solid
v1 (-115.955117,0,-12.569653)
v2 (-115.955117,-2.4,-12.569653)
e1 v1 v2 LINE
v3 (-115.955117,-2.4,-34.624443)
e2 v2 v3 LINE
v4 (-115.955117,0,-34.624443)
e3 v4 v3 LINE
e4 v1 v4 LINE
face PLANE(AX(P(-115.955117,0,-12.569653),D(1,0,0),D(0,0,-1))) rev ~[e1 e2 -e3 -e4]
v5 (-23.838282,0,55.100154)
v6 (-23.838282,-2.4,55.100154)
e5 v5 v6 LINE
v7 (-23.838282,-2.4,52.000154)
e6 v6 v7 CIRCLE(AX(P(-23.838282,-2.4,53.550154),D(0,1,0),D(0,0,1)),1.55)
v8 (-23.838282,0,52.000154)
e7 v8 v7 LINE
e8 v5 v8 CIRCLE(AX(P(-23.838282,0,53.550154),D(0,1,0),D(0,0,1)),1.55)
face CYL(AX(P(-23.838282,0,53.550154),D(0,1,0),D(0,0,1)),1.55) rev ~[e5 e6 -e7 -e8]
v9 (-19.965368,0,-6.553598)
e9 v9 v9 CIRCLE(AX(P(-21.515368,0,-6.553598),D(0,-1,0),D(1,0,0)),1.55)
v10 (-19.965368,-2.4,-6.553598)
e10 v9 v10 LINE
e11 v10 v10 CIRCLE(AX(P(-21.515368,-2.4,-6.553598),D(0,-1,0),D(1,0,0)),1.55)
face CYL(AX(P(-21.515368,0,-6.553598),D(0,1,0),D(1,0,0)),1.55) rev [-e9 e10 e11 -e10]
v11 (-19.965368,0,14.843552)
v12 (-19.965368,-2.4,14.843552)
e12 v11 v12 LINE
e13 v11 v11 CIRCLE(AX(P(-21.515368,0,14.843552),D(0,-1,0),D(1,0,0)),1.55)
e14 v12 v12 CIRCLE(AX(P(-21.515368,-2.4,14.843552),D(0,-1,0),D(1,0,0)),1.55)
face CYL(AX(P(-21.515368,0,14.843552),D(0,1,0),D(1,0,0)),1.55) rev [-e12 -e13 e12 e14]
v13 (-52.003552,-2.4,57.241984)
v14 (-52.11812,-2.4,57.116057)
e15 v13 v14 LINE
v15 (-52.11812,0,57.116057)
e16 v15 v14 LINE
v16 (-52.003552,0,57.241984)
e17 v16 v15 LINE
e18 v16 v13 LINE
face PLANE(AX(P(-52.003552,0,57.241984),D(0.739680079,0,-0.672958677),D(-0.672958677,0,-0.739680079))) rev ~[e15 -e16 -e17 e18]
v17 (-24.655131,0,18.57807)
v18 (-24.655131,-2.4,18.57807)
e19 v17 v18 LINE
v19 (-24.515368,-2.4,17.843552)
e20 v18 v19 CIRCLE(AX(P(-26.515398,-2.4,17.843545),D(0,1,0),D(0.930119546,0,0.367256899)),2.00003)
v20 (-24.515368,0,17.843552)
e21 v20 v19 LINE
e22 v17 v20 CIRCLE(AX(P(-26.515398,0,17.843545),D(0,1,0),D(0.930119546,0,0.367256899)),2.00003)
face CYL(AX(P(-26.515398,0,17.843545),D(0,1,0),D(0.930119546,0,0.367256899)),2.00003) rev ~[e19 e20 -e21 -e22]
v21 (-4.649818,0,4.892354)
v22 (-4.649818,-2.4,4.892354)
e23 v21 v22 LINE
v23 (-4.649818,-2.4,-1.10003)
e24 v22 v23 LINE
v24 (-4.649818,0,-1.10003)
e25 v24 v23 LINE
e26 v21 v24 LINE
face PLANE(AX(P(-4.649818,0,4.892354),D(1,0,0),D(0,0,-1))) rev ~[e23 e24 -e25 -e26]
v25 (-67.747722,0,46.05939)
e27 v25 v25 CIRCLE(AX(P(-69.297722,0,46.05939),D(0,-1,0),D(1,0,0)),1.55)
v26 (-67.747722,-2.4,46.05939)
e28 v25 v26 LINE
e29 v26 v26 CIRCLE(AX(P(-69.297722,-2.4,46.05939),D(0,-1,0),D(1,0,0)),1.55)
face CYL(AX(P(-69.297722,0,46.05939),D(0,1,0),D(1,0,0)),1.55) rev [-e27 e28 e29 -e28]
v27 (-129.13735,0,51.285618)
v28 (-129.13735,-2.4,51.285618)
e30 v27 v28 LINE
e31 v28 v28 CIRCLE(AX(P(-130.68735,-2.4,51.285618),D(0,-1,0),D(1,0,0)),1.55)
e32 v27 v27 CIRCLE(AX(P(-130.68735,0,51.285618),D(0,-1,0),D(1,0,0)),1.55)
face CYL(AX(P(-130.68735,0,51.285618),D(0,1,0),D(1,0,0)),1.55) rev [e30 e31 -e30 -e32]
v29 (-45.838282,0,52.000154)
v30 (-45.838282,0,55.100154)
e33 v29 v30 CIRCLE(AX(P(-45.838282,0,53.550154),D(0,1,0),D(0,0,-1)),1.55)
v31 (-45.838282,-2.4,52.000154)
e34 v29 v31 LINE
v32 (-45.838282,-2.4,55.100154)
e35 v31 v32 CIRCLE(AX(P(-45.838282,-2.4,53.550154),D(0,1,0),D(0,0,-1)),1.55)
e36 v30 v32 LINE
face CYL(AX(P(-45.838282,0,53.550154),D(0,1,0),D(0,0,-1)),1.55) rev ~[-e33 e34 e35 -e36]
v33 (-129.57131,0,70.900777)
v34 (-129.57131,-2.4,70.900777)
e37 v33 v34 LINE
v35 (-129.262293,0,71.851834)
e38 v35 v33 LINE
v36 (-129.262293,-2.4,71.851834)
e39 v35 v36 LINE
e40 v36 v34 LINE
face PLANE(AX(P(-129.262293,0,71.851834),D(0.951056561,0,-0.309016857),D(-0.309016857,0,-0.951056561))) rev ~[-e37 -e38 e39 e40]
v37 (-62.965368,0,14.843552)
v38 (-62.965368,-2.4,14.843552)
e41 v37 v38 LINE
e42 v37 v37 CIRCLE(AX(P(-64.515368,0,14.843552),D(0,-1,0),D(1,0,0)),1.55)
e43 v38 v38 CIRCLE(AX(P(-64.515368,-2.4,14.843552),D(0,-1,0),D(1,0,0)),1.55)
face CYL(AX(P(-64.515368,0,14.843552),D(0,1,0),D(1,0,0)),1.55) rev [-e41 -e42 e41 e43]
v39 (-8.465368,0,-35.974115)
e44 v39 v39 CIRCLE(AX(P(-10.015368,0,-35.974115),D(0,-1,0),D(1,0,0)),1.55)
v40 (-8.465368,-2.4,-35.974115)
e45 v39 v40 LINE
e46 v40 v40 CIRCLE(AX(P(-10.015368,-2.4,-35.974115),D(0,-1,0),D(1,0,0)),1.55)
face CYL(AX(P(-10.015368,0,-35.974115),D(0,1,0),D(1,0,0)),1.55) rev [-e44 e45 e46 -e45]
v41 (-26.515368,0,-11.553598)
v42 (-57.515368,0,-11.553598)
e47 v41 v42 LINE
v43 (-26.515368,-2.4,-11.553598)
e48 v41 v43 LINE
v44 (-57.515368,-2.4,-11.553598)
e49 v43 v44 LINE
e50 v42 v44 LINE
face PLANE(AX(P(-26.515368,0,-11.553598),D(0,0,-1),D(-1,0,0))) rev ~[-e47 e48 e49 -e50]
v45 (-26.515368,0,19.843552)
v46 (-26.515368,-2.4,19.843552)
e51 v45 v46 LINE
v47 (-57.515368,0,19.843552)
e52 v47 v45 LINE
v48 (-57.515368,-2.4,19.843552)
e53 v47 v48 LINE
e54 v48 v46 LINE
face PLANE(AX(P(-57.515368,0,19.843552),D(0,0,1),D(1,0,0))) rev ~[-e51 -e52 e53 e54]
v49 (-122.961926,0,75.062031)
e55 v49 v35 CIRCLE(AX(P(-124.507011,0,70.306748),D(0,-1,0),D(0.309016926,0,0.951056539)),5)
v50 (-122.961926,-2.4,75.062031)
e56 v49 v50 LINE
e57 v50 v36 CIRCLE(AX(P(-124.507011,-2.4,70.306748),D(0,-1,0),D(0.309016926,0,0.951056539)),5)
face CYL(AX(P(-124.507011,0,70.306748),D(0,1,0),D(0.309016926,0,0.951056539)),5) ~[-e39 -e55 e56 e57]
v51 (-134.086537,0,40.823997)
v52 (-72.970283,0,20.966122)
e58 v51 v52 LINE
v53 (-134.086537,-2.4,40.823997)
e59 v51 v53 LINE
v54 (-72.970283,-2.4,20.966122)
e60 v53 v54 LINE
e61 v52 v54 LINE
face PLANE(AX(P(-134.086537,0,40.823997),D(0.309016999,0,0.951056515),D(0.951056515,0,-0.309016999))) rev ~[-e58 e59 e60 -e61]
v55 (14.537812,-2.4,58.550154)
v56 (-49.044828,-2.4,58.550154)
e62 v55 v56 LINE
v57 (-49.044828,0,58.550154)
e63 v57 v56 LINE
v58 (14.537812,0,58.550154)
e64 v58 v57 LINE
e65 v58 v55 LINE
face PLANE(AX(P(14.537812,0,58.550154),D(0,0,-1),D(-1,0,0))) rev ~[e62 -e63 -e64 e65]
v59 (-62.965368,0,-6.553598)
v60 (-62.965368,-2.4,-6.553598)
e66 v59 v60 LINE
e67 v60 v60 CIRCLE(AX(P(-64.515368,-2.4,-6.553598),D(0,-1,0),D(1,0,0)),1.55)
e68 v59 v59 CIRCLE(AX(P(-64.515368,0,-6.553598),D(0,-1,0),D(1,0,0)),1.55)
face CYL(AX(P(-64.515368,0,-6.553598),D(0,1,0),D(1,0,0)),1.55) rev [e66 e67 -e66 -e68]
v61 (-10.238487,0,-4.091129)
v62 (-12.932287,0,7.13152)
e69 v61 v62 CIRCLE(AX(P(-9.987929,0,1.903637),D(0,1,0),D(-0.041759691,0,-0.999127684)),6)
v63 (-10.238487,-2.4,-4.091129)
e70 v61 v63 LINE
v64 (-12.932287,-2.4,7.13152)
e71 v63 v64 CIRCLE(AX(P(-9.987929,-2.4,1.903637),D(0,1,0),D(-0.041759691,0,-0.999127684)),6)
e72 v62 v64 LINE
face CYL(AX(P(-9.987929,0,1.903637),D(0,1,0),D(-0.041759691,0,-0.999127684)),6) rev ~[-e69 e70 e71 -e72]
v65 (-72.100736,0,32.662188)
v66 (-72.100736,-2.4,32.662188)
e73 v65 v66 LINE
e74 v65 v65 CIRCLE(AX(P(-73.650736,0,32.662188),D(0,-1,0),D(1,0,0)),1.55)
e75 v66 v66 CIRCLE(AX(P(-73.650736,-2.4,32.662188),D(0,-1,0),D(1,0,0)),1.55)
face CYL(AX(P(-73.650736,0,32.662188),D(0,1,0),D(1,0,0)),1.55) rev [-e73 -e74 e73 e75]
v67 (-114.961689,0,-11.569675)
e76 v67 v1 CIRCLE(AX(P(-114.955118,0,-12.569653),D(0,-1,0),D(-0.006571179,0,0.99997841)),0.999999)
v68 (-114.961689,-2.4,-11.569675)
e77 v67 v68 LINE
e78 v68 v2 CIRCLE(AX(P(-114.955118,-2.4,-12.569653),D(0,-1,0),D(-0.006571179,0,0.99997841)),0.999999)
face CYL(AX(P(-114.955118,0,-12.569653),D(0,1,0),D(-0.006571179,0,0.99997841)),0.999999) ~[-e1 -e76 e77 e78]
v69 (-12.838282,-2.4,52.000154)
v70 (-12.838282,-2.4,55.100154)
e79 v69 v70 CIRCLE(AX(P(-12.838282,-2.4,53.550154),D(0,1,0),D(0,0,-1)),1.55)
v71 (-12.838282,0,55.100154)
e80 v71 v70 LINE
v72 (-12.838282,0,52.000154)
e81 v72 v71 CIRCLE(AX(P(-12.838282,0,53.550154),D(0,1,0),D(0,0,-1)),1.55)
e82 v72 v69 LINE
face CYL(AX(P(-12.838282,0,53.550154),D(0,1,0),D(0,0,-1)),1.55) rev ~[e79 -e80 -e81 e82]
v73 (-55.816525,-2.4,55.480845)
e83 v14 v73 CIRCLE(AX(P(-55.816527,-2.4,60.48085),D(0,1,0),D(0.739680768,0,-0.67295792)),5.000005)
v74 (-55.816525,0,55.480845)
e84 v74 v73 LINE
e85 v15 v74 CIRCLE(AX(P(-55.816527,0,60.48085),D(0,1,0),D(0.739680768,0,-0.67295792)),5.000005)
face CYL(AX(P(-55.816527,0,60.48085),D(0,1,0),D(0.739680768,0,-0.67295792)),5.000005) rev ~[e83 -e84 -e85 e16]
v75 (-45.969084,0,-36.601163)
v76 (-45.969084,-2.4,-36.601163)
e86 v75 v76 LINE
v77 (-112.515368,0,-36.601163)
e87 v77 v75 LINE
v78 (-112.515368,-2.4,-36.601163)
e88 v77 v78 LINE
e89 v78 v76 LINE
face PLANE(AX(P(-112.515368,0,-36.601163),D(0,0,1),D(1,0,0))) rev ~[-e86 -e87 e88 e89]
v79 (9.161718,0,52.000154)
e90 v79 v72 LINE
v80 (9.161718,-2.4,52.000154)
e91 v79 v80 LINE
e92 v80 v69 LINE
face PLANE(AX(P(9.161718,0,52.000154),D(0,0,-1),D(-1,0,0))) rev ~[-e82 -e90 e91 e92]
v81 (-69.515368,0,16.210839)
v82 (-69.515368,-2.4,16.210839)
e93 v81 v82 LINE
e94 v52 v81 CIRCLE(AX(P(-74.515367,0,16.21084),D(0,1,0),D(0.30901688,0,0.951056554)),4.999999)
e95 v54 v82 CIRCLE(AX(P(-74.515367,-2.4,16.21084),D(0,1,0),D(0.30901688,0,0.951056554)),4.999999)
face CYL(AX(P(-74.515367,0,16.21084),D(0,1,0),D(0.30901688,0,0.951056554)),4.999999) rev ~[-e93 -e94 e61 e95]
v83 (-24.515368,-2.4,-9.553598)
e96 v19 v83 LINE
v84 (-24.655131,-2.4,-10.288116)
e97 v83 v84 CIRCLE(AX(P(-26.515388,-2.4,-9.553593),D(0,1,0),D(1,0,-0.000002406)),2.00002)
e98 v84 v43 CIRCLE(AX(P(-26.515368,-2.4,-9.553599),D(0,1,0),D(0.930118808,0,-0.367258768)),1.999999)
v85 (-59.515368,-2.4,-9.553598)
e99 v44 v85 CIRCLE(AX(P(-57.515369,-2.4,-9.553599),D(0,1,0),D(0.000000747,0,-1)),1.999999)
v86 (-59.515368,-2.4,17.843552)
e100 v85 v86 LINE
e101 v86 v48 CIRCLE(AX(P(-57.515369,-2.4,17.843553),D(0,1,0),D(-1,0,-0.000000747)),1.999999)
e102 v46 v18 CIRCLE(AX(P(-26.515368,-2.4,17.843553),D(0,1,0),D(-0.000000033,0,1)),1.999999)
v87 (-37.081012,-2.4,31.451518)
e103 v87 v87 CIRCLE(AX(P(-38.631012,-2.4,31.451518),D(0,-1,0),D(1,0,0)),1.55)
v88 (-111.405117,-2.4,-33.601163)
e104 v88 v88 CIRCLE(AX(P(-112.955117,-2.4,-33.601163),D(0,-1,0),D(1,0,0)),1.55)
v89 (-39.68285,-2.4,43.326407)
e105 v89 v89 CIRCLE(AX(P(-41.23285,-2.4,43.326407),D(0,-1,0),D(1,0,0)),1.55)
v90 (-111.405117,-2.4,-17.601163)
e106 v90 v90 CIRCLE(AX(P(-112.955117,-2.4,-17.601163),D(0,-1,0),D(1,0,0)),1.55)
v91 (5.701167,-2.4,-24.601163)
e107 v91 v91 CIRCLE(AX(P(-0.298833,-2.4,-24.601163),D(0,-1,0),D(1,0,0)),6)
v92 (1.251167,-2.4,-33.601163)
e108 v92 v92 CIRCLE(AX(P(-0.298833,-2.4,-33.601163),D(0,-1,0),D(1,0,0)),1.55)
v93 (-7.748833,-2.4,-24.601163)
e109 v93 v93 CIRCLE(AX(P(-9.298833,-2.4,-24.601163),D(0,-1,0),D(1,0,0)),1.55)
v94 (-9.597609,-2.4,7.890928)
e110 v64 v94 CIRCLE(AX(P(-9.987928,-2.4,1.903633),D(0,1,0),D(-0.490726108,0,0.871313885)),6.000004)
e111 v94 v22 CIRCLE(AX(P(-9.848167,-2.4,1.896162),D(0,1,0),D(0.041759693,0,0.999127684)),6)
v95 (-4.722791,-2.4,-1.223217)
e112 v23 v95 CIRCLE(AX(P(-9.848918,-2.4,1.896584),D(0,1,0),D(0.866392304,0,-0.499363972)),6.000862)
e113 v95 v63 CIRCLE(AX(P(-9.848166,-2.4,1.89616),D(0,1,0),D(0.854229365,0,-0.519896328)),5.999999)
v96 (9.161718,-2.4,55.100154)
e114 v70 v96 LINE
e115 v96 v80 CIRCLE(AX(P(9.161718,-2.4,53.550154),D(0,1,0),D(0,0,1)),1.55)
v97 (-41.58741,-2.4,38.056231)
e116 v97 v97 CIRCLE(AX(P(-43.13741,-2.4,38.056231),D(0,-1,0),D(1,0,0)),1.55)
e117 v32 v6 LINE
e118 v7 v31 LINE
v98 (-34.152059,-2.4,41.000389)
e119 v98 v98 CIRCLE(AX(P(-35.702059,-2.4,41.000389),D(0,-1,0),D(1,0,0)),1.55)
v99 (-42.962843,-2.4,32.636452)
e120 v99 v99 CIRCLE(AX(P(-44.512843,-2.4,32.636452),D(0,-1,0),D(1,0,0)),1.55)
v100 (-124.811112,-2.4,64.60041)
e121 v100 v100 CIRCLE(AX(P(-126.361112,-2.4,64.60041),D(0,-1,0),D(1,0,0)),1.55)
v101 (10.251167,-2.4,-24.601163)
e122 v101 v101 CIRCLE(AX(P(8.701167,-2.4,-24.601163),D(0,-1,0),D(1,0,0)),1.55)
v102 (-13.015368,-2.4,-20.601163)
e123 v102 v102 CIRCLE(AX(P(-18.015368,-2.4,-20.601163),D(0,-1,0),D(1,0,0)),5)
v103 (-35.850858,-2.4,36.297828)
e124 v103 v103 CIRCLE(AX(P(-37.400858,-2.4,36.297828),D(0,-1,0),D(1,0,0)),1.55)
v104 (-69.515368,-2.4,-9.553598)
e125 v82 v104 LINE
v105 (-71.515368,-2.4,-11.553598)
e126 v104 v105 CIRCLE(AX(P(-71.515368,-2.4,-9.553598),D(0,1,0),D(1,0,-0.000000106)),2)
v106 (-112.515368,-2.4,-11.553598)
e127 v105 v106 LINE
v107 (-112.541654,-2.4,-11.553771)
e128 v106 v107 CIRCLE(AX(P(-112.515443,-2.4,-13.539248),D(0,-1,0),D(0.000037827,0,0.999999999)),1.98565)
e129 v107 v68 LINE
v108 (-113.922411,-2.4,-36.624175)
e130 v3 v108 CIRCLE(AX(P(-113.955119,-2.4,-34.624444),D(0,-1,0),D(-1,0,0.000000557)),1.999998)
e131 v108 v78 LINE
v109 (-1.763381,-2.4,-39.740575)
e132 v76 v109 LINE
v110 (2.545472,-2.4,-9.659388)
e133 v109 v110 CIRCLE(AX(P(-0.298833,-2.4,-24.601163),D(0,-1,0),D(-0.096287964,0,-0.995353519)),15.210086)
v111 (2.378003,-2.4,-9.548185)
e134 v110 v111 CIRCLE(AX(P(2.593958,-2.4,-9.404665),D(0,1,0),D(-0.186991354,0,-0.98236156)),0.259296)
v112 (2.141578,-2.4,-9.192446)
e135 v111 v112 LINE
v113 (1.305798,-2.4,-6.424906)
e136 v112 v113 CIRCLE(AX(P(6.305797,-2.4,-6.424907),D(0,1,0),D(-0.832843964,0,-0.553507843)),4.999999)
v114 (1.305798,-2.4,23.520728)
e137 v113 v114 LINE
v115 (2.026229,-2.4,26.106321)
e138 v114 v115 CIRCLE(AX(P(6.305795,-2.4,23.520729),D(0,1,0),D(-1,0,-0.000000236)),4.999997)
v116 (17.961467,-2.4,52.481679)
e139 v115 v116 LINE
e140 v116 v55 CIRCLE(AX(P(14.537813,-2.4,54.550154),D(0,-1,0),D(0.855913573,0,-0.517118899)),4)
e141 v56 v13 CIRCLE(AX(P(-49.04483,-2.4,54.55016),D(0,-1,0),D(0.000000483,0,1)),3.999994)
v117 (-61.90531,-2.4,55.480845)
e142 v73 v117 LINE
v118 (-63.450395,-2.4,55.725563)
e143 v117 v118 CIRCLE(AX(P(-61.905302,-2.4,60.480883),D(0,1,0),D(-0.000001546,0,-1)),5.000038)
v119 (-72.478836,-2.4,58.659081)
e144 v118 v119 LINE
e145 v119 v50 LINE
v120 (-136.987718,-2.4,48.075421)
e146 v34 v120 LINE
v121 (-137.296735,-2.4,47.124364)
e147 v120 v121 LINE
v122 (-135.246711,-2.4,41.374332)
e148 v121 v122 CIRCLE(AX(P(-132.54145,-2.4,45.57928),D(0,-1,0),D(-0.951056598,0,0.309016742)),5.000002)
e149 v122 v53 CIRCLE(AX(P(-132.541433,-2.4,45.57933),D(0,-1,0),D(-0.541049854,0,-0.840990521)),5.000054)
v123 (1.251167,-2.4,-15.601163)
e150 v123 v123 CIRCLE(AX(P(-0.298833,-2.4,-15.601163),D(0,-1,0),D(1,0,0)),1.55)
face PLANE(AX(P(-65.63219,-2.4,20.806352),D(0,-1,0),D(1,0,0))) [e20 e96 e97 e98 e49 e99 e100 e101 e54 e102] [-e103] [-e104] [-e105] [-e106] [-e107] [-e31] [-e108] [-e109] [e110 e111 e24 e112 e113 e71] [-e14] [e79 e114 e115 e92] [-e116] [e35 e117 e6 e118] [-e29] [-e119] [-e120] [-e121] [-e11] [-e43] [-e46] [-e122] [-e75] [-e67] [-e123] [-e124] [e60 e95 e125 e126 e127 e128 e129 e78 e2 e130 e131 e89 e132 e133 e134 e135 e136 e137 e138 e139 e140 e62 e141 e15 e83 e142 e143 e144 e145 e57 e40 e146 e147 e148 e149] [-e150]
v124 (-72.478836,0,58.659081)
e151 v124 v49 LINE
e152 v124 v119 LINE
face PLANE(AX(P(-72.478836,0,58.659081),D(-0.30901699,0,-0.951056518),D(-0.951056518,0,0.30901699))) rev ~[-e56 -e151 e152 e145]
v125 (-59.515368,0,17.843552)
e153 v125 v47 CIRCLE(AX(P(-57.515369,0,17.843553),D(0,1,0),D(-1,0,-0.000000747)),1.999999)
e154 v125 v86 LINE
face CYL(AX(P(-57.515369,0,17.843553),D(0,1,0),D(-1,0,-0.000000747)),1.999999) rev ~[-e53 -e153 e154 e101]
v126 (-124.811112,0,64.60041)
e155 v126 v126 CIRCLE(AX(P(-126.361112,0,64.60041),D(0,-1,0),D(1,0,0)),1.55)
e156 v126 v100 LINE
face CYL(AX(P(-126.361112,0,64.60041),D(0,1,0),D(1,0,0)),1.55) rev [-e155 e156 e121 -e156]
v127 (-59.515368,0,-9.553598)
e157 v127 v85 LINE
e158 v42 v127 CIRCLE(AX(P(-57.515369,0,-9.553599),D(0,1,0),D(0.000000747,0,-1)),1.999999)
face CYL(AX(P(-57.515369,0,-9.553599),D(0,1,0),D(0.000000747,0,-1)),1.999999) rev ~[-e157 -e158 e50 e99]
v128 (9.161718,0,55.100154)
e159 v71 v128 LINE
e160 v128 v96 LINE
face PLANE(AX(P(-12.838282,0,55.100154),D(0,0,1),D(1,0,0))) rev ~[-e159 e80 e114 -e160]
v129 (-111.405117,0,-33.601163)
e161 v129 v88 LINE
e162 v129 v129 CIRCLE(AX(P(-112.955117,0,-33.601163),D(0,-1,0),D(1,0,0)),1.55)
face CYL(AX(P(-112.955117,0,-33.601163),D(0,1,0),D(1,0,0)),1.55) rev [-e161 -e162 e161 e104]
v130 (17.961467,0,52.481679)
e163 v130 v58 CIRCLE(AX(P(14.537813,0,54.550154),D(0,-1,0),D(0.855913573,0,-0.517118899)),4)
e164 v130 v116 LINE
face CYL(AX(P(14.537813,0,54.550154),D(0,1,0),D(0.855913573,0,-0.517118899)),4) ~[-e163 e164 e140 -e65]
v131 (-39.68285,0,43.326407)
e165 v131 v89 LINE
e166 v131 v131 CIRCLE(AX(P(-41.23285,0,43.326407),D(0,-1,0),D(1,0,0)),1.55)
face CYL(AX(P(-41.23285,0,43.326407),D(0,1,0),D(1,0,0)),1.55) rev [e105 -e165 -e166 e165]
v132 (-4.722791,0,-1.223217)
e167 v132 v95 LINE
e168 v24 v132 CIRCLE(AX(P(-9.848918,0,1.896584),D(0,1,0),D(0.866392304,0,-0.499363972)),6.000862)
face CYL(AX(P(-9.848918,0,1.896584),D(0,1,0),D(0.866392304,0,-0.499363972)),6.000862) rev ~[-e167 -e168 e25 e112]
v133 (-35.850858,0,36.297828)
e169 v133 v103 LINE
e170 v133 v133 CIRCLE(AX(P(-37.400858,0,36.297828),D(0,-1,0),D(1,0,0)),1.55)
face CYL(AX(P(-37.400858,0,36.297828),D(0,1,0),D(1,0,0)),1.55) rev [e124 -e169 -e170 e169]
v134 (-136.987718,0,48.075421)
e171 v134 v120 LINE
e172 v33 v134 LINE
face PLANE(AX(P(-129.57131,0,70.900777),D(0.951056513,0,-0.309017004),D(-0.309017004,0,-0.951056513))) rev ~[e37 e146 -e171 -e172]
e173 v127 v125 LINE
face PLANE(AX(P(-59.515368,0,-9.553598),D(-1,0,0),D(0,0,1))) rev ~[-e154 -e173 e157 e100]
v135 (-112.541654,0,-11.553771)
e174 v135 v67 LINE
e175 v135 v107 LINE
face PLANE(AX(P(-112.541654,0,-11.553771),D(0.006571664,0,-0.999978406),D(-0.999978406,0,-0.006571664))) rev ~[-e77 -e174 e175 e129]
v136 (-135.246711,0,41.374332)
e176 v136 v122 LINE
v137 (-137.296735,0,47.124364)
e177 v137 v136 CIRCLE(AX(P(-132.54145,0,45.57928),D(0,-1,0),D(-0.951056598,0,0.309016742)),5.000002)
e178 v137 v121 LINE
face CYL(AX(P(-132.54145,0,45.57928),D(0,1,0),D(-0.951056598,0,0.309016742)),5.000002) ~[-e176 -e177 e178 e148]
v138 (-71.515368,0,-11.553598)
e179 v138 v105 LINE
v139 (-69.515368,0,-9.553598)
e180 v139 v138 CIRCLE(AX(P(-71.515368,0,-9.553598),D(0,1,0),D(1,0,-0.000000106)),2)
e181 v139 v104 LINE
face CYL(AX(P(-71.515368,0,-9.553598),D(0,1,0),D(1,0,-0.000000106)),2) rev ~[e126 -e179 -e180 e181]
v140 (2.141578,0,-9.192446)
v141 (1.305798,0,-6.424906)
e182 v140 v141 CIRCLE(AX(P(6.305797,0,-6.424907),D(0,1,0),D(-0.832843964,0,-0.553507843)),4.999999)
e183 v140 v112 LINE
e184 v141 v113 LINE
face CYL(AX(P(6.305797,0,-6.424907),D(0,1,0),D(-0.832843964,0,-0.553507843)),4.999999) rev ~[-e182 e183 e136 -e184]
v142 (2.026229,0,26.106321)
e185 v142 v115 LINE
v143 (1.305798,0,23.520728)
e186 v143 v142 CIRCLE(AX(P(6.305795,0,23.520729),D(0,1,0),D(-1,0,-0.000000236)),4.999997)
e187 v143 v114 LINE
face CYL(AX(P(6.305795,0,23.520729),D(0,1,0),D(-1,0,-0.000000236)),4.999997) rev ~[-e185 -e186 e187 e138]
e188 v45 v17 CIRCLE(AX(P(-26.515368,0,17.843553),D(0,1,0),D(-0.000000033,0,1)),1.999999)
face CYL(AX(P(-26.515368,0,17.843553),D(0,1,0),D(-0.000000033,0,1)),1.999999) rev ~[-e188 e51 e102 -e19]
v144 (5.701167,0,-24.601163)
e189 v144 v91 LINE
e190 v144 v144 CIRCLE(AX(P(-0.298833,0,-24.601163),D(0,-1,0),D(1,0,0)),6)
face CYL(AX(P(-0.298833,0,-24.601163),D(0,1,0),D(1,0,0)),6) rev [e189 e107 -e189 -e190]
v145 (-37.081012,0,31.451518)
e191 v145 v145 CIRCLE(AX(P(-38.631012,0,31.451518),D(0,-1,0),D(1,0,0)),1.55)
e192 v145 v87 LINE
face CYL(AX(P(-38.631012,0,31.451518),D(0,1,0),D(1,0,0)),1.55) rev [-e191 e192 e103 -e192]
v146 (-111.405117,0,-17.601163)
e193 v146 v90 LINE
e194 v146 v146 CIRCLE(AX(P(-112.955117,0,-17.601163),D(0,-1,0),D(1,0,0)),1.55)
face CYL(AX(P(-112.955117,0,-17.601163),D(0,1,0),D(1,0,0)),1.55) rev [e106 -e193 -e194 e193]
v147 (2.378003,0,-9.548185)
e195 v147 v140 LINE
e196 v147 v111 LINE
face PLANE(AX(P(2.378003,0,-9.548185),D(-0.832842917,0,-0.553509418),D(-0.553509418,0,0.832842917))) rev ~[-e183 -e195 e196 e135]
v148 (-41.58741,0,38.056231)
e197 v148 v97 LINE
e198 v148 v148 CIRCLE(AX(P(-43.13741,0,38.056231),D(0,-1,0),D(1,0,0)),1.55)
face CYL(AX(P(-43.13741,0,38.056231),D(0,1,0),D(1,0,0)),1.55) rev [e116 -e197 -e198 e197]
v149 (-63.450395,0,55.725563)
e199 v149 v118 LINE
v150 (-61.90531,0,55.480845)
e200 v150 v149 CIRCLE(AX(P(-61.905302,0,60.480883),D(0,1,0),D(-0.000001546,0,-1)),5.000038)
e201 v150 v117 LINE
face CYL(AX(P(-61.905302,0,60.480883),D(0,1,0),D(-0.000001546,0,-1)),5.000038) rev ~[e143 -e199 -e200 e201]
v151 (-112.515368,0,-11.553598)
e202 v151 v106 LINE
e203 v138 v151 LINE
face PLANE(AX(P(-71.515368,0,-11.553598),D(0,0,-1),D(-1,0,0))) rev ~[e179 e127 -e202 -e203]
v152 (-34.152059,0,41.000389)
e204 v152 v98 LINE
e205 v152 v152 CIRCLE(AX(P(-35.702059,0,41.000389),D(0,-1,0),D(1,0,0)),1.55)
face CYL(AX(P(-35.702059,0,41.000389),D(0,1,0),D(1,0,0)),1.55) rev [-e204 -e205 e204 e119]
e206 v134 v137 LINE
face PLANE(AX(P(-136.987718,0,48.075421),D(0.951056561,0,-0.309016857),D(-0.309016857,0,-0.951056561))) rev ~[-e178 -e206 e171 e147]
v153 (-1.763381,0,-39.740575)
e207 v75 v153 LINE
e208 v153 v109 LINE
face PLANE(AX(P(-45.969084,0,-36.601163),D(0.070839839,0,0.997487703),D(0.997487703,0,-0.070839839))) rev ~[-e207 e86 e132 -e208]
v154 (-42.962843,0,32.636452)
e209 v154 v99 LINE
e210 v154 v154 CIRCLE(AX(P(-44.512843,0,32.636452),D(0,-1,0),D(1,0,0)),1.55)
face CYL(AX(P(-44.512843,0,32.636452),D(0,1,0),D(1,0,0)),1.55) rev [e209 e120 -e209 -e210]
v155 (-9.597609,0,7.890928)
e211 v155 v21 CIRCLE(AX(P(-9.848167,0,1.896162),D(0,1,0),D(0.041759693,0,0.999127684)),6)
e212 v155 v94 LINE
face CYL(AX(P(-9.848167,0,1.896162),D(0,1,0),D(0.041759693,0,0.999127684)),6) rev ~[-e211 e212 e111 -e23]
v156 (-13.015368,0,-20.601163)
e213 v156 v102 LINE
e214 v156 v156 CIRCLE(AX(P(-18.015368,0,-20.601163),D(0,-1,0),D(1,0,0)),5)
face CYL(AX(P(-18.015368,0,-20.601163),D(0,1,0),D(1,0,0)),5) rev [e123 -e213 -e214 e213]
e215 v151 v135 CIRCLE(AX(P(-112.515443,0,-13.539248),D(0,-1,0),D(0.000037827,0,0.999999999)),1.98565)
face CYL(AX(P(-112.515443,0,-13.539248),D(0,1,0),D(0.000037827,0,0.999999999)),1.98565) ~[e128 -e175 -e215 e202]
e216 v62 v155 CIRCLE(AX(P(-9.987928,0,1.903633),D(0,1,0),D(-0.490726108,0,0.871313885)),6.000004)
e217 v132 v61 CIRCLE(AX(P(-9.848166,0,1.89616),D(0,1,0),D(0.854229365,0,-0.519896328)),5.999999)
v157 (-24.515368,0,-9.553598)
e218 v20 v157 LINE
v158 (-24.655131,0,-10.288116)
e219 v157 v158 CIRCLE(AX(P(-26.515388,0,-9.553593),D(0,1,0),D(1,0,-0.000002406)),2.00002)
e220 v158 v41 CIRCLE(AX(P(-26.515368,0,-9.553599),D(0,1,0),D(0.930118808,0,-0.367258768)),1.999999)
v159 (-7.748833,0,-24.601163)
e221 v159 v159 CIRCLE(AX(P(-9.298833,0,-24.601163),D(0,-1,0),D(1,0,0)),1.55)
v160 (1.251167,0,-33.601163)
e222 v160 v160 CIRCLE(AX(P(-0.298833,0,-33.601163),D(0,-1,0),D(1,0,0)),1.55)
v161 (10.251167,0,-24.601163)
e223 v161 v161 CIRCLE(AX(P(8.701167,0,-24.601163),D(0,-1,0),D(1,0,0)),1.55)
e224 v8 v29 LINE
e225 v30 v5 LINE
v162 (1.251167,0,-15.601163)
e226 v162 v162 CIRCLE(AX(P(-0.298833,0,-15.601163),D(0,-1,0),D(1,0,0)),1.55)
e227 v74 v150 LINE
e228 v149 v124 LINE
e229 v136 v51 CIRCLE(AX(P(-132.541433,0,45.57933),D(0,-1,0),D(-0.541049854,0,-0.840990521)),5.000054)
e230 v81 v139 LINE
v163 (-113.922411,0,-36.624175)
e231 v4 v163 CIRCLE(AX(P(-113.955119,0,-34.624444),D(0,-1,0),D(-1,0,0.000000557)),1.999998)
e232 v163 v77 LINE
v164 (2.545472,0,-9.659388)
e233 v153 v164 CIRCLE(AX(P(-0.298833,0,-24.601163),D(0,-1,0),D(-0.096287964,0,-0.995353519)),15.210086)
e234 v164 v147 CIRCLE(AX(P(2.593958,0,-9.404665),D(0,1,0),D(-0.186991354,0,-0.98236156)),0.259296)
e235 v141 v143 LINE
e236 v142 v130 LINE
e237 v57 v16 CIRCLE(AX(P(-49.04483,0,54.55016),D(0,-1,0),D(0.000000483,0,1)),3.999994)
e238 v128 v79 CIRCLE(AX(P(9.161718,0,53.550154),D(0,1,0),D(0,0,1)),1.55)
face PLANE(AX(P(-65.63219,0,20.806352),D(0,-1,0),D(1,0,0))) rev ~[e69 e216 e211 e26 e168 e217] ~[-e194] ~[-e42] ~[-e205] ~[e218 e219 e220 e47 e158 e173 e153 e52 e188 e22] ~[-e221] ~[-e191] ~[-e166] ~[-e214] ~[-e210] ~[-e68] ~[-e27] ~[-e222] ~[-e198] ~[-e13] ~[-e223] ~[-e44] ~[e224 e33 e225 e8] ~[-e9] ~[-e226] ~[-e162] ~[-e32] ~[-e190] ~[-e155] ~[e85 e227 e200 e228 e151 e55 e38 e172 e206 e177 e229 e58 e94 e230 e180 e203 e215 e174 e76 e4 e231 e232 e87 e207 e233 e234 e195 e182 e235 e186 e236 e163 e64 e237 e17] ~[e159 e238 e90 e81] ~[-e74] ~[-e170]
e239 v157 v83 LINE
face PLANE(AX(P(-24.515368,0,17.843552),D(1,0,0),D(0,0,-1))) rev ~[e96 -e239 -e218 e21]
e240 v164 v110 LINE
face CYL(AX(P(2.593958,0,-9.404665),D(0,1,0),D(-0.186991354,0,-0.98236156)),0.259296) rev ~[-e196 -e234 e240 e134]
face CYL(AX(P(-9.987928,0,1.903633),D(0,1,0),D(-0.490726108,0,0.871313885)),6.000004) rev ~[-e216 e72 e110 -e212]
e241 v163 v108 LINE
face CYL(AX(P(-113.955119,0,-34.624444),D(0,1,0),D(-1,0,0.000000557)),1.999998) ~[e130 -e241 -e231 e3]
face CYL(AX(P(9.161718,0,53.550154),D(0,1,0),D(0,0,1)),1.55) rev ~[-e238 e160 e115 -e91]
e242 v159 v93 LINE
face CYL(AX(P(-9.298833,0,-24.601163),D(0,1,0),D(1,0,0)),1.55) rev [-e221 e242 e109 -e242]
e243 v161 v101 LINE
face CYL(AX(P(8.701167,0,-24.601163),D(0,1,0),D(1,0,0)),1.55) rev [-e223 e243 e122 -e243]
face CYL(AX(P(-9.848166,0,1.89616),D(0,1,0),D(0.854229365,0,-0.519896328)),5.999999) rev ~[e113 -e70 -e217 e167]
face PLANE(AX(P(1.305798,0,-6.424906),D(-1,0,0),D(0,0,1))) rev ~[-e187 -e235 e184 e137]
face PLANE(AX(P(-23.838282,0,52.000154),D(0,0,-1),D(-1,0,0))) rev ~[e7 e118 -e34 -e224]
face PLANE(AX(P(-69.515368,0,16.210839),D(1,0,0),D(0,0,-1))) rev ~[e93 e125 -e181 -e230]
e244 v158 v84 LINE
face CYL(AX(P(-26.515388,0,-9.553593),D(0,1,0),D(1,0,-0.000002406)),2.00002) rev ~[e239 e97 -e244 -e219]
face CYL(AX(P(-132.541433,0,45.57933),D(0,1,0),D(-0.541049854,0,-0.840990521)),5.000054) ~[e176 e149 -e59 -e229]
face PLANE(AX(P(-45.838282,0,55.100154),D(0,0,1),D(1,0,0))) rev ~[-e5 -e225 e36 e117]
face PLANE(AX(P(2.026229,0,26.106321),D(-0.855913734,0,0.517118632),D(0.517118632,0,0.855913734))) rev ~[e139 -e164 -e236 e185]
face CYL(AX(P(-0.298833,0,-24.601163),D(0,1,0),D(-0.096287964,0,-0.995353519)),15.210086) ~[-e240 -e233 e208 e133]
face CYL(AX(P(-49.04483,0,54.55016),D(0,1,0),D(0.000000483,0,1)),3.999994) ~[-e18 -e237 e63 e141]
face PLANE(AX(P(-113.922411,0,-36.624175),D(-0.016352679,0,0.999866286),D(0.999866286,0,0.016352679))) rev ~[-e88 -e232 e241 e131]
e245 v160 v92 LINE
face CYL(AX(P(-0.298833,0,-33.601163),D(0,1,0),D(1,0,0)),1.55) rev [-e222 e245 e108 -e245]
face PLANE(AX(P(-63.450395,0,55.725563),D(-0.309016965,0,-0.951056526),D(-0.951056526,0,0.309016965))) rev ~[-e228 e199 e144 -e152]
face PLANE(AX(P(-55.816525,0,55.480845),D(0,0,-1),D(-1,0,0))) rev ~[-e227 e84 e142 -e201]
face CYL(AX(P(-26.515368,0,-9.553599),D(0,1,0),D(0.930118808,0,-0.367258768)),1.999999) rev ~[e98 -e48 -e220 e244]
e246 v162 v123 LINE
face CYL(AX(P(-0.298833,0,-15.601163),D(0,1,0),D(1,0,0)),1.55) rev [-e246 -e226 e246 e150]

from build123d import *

# Parameters (mm, degrees)
F0_R     = 1.55
F0_R_2   = 5
F0_R_3   = 6
F1_DEPTH = 2.4


with BuildPart() as f1:
    # F0 (on Front) → F1 (new body)
    with BuildSketch(Plane.XZ):
        with BuildLine():
            Line((-113.922411, -36.624175), (-112.515368, -36.601163))
            Line((-112.515368, -36.601163), (-45.969084, -36.601163))
            Line((-45.969084, -36.601163), (-1.763381, -39.740575))
            ThreePointArc((-1.763381, -39.740575), (14.757574, -26.757854), (2.545472, -9.659388))
            ThreePointArc((2.545472, -9.659388), (2.450522, -9.620676), (2.378003, -9.548185))
            Line((2.378003, -9.548185), (2.141578, -9.192446))
            ThreePointArc((2.141578, -9.192446), (1.519301, -7.870399), (1.305798, -6.424906))
            Line((1.305798, -6.424906), (1.305798, 23.520728))
            ThreePointArc((1.305798, 23.520728), (1.489272, 24.862771), (2.026229, 26.106321))
            Line((2.026229, 26.106321), (17.961467, 52.481679))
            ThreePointArc((17.961467, 52.481679), (18.021625, 56.515619), (14.537812, 58.550154))
            Line((14.537812, 58.550154), (-28.732704, 58.550154))
            Line((-28.732704, 58.550154), (-49.044828, 58.550154))
            ThreePointArc((-49.044828, 58.550154), (-50.662338, 58.208523), (-52.003552, 57.241984))
            Line((-52.003552, 57.241984), (-52.11812, 57.116057))
            ThreePointArc((-52.11812, 57.116057), (-53.794637, 55.907885), (-55.816525, 55.480845))
            Line((-55.816525, 55.480845), (-61.90531, 55.480845))
            ThreePointArc((-61.90531, 55.480845), (-62.687482, 55.542404), (-63.450395, 55.725563))
            Line((-63.450395, 55.725563), (-72.478836, 58.659081))
            Line((-72.478836, 58.659081), (-122.961926, 75.062031))
            ThreePointArc((-122.961926, 75.062031), (-126.776963, 74.761781), (-129.262293, 71.851834))
            Line((-129.262293, 71.851834), (-129.57131, 70.900777))
            Line((-129.57131, 70.900777), (-74.332938, 52.952742))
            Line((-74.332938, 52.952742), (-68.495444, 51.056025))
            Line((-68.495444, 51.056025), (-62.997354, 49.269588))
            Line((-62.997354, 49.269588), (-70.440539, 26.36182))
            Line((-70.440539, 26.36182), (-75.938629, 28.148258))
            Line((-75.938629, 28.148258), (-81.749346, 30.127386))
            Line((-81.749346, 30.127386), (-115.36281, 41.049062))
            Line((-115.36281, 41.049062), (-136.987718, 48.075421))
            Line((-136.987718, 48.075421), (-137.296735, 47.124364))
            ThreePointArc((-137.296735, 47.124364), (-137.251084, 43.900182), (-135.246711, 41.374332))
            ThreePointArc((-135.246711, 41.374332), (-134.684364, 41.061766), (-134.086537, 40.823997))
            Line((-134.086537, 40.823997), (-72.970283, 20.966122))
            ThreePointArc((-72.970283, 20.966122), (-70.470283, 19.149766), (-69.515368, 16.210839))
            Line((-69.515368, 16.210839), (-69.515368, -9.553598))
            ThreePointArc((-69.515368, -9.553598), (-70.101155, -10.967812), (-71.515368, -11.553598))
            Line((-71.515368, -11.553598), (-74.523215, -11.553598))
            Line((-74.523215, -11.553598), (-112.515368, -11.553598))
            ThreePointArc((-112.515368, -11.553598), (-112.528511, -11.553641), (-112.541654, -11.553771))
            Line((-112.541654, -11.553771), (-114.961689, -11.569675))
            ThreePointArc((-114.961689, -11.569675), (-115.664544, -11.864874), (-115.955117, -12.569653))
            Line((-115.955117, -12.569653), (-115.955117, -34.624443))
            ThreePointArc((-115.955117, -34.624443), (-115.35772, -36.050173), (-113.922411, -36.624175))
        make_face()
        with Locations((-112.955117, -33.601163)):
            Circle(F0_R, mode=Mode.SUBTRACT)
        with Locations((-112.955117, -17.601163)):
            Circle(F0_R, mode=Mode.SUBTRACT)
        with Locations((-64.515368, -6.553598)):
            Circle(F0_R, mode=Mode.SUBTRACT)
        with Locations((-64.515368, 14.843552)):
            Circle(F0_R, mode=Mode.SUBTRACT)
        with Locations((-10.015368, -35.974115)):
            Circle(F0_R, mode=Mode.SUBTRACT)
        with Locations((-0.298833, -33.601163)):
            Circle(F0_R, mode=Mode.SUBTRACT)
        with Locations((-18.015368, -20.601163)):
            Circle(F0_R_2, mode=Mode.SUBTRACT)
        with Locations((-9.298833, -24.601163)):
            Circle(F0_R, mode=Mode.SUBTRACT)
        with Locations((-0.298833, -24.601163)):
            Circle(F0_R_3, mode=Mode.SUBTRACT)
        with Locations((8.701167, -24.601163)):
            Circle(F0_R, mode=Mode.SUBTRACT)
        with Locations((-0.298833, -15.601163)):
            Circle(F0_R, mode=Mode.SUBTRACT)
        with Locations((-21.515368, -6.553598)):
            Circle(F0_R, mode=Mode.SUBTRACT)
        with BuildLine():
            Line((-26.515368, -11.553598), (-57.515368, -11.553598))
            ThreePointArc((-57.515368, -11.553598), (-58.929582, -10.967812), (-59.515368, -9.553598))
            Line((-59.515368, -9.553598), (-59.515368, 17.843552))
            ThreePointArc((-59.515368, 17.843552), (-58.929582, 19.257766), (-57.515368, 19.843552))
            Line((-57.515368, 19.843552), (-26.515368, 19.843552))
            ThreePointArc((-26.515368, 19.843552), (-25.390432, 19.49719), (-24.655131, 18.57807))
            ThreePointArc((-24.655131, 18.57807), (-24.55062, 18.2174), (-24.515368, 17.843552))
            Line((-24.515368, 17.843552), (-24.515368, -9.553598))
            ThreePointArc((-24.515368, -9.553598), (-24.55062, -9.927447), (-24.655131, -10.288116))
            ThreePointArc((-24.655131, -10.288116), (-25.390432, -11.207236), (-26.515368, -11.553598))
        make_face(mode=Mode.SUBTRACT)
        with Locations((-21.515368, 14.843552)):
            Circle(F0_R, mode=Mode.SUBTRACT)
        with BuildLine():
            ThreePointArc((-9.597609, 7.890928), (-6.738423, 7.027389), (-4.649818, 4.892354))
            Line((-4.649818, 4.892354), (-4.649818, -1.10003))
            ThreePointArc((-4.649818, -1.10003), (-4.685937, -1.161841), (-4.722791, -1.223217))
            ThreePointArc((-4.722791, -1.223217), (-7.08024, -3.427238), (-10.238487, -4.091129))
            ThreePointArc((-10.238487, -4.091129), (-15.82221, 0.503221), (-12.932287, 7.13152))
            ThreePointArc((-12.932287, 7.13152), (-11.320202, 7.753855), (-9.597609, 7.890928))
        make_face(mode=Mode.SUBTRACT)
        with Locations((-38.631012, 31.451518)):
            Circle(F0_R, mode=Mode.SUBTRACT)
        with Locations((-44.512843, 32.636452)):
            Circle(F0_R, mode=Mode.SUBTRACT)
        with Locations((-43.13741, 38.056231)):
            Circle(F0_R, mode=Mode.SUBTRACT)
        with Locations((-41.23285, 43.326407)):
            Circle(F0_R, mode=Mode.SUBTRACT)
        with Locations((-37.400858, 36.297828)):
            Circle(F0_R, mode=Mode.SUBTRACT)
        with Locations((-35.702059, 41.000389)):
            Circle(F0_R, mode=Mode.SUBTRACT)
        with BuildLine():
            Line((-23.838282, 52.000154), (-45.838282, 52.000154))
            ThreePointArc((-45.838282, 52.000154), (-47.388282, 53.550154), (-45.838282, 55.100154))
            Line((-45.838282, 55.100154), (-23.838282, 55.100154))
            ThreePointArc((-23.838282, 55.100154), (-22.288282, 53.550154), (-23.838282, 52.000154))
        make_face(mode=Mode.SUBTRACT)
        with BuildLine():
            Line((9.161718, 52.000154), (-12.838282, 52.000154))
            ThreePointArc((-12.838282, 52.000154), (-14.388282, 53.550154), (-12.838282, 55.100154))
            Line((-12.838282, 55.100154), (9.161718, 55.100154))
            ThreePointArc((9.161718, 55.100154), (10.711718, 53.550154), (9.161718, 52.000154))
        make_face(mode=Mode.SUBTRACT)
        Polygon((-129.57131, 70.900777), (-136.987718, 48.075421), (-115.36281, 41.049062), (-81.749346, 30.127386), (-75.938629, 28.148258), (-70.440539, 26.36182), (-62.997354, 49.269588), (-68.495444, 51.056025), (-74.332938, 52.952742), align=None)
        with Locations((-73.650736, 32.662188)):
            Circle(F0_R, mode=Mode.SUBTRACT)
        with Locations((-69.297722, 46.05939)):
            Circle(F0_R, mode=Mode.SUBTRACT)
        with Locations((-130.68735, 51.285618)):
            Circle(F0_R, mode=Mode.SUBTRACT)
        with Locations((-126.361112, 64.60041)):
            Circle(F0_R, mode=Mode.SUBTRACT)
    extrude(amount=F1_DEPTH)


solid = f1.part
